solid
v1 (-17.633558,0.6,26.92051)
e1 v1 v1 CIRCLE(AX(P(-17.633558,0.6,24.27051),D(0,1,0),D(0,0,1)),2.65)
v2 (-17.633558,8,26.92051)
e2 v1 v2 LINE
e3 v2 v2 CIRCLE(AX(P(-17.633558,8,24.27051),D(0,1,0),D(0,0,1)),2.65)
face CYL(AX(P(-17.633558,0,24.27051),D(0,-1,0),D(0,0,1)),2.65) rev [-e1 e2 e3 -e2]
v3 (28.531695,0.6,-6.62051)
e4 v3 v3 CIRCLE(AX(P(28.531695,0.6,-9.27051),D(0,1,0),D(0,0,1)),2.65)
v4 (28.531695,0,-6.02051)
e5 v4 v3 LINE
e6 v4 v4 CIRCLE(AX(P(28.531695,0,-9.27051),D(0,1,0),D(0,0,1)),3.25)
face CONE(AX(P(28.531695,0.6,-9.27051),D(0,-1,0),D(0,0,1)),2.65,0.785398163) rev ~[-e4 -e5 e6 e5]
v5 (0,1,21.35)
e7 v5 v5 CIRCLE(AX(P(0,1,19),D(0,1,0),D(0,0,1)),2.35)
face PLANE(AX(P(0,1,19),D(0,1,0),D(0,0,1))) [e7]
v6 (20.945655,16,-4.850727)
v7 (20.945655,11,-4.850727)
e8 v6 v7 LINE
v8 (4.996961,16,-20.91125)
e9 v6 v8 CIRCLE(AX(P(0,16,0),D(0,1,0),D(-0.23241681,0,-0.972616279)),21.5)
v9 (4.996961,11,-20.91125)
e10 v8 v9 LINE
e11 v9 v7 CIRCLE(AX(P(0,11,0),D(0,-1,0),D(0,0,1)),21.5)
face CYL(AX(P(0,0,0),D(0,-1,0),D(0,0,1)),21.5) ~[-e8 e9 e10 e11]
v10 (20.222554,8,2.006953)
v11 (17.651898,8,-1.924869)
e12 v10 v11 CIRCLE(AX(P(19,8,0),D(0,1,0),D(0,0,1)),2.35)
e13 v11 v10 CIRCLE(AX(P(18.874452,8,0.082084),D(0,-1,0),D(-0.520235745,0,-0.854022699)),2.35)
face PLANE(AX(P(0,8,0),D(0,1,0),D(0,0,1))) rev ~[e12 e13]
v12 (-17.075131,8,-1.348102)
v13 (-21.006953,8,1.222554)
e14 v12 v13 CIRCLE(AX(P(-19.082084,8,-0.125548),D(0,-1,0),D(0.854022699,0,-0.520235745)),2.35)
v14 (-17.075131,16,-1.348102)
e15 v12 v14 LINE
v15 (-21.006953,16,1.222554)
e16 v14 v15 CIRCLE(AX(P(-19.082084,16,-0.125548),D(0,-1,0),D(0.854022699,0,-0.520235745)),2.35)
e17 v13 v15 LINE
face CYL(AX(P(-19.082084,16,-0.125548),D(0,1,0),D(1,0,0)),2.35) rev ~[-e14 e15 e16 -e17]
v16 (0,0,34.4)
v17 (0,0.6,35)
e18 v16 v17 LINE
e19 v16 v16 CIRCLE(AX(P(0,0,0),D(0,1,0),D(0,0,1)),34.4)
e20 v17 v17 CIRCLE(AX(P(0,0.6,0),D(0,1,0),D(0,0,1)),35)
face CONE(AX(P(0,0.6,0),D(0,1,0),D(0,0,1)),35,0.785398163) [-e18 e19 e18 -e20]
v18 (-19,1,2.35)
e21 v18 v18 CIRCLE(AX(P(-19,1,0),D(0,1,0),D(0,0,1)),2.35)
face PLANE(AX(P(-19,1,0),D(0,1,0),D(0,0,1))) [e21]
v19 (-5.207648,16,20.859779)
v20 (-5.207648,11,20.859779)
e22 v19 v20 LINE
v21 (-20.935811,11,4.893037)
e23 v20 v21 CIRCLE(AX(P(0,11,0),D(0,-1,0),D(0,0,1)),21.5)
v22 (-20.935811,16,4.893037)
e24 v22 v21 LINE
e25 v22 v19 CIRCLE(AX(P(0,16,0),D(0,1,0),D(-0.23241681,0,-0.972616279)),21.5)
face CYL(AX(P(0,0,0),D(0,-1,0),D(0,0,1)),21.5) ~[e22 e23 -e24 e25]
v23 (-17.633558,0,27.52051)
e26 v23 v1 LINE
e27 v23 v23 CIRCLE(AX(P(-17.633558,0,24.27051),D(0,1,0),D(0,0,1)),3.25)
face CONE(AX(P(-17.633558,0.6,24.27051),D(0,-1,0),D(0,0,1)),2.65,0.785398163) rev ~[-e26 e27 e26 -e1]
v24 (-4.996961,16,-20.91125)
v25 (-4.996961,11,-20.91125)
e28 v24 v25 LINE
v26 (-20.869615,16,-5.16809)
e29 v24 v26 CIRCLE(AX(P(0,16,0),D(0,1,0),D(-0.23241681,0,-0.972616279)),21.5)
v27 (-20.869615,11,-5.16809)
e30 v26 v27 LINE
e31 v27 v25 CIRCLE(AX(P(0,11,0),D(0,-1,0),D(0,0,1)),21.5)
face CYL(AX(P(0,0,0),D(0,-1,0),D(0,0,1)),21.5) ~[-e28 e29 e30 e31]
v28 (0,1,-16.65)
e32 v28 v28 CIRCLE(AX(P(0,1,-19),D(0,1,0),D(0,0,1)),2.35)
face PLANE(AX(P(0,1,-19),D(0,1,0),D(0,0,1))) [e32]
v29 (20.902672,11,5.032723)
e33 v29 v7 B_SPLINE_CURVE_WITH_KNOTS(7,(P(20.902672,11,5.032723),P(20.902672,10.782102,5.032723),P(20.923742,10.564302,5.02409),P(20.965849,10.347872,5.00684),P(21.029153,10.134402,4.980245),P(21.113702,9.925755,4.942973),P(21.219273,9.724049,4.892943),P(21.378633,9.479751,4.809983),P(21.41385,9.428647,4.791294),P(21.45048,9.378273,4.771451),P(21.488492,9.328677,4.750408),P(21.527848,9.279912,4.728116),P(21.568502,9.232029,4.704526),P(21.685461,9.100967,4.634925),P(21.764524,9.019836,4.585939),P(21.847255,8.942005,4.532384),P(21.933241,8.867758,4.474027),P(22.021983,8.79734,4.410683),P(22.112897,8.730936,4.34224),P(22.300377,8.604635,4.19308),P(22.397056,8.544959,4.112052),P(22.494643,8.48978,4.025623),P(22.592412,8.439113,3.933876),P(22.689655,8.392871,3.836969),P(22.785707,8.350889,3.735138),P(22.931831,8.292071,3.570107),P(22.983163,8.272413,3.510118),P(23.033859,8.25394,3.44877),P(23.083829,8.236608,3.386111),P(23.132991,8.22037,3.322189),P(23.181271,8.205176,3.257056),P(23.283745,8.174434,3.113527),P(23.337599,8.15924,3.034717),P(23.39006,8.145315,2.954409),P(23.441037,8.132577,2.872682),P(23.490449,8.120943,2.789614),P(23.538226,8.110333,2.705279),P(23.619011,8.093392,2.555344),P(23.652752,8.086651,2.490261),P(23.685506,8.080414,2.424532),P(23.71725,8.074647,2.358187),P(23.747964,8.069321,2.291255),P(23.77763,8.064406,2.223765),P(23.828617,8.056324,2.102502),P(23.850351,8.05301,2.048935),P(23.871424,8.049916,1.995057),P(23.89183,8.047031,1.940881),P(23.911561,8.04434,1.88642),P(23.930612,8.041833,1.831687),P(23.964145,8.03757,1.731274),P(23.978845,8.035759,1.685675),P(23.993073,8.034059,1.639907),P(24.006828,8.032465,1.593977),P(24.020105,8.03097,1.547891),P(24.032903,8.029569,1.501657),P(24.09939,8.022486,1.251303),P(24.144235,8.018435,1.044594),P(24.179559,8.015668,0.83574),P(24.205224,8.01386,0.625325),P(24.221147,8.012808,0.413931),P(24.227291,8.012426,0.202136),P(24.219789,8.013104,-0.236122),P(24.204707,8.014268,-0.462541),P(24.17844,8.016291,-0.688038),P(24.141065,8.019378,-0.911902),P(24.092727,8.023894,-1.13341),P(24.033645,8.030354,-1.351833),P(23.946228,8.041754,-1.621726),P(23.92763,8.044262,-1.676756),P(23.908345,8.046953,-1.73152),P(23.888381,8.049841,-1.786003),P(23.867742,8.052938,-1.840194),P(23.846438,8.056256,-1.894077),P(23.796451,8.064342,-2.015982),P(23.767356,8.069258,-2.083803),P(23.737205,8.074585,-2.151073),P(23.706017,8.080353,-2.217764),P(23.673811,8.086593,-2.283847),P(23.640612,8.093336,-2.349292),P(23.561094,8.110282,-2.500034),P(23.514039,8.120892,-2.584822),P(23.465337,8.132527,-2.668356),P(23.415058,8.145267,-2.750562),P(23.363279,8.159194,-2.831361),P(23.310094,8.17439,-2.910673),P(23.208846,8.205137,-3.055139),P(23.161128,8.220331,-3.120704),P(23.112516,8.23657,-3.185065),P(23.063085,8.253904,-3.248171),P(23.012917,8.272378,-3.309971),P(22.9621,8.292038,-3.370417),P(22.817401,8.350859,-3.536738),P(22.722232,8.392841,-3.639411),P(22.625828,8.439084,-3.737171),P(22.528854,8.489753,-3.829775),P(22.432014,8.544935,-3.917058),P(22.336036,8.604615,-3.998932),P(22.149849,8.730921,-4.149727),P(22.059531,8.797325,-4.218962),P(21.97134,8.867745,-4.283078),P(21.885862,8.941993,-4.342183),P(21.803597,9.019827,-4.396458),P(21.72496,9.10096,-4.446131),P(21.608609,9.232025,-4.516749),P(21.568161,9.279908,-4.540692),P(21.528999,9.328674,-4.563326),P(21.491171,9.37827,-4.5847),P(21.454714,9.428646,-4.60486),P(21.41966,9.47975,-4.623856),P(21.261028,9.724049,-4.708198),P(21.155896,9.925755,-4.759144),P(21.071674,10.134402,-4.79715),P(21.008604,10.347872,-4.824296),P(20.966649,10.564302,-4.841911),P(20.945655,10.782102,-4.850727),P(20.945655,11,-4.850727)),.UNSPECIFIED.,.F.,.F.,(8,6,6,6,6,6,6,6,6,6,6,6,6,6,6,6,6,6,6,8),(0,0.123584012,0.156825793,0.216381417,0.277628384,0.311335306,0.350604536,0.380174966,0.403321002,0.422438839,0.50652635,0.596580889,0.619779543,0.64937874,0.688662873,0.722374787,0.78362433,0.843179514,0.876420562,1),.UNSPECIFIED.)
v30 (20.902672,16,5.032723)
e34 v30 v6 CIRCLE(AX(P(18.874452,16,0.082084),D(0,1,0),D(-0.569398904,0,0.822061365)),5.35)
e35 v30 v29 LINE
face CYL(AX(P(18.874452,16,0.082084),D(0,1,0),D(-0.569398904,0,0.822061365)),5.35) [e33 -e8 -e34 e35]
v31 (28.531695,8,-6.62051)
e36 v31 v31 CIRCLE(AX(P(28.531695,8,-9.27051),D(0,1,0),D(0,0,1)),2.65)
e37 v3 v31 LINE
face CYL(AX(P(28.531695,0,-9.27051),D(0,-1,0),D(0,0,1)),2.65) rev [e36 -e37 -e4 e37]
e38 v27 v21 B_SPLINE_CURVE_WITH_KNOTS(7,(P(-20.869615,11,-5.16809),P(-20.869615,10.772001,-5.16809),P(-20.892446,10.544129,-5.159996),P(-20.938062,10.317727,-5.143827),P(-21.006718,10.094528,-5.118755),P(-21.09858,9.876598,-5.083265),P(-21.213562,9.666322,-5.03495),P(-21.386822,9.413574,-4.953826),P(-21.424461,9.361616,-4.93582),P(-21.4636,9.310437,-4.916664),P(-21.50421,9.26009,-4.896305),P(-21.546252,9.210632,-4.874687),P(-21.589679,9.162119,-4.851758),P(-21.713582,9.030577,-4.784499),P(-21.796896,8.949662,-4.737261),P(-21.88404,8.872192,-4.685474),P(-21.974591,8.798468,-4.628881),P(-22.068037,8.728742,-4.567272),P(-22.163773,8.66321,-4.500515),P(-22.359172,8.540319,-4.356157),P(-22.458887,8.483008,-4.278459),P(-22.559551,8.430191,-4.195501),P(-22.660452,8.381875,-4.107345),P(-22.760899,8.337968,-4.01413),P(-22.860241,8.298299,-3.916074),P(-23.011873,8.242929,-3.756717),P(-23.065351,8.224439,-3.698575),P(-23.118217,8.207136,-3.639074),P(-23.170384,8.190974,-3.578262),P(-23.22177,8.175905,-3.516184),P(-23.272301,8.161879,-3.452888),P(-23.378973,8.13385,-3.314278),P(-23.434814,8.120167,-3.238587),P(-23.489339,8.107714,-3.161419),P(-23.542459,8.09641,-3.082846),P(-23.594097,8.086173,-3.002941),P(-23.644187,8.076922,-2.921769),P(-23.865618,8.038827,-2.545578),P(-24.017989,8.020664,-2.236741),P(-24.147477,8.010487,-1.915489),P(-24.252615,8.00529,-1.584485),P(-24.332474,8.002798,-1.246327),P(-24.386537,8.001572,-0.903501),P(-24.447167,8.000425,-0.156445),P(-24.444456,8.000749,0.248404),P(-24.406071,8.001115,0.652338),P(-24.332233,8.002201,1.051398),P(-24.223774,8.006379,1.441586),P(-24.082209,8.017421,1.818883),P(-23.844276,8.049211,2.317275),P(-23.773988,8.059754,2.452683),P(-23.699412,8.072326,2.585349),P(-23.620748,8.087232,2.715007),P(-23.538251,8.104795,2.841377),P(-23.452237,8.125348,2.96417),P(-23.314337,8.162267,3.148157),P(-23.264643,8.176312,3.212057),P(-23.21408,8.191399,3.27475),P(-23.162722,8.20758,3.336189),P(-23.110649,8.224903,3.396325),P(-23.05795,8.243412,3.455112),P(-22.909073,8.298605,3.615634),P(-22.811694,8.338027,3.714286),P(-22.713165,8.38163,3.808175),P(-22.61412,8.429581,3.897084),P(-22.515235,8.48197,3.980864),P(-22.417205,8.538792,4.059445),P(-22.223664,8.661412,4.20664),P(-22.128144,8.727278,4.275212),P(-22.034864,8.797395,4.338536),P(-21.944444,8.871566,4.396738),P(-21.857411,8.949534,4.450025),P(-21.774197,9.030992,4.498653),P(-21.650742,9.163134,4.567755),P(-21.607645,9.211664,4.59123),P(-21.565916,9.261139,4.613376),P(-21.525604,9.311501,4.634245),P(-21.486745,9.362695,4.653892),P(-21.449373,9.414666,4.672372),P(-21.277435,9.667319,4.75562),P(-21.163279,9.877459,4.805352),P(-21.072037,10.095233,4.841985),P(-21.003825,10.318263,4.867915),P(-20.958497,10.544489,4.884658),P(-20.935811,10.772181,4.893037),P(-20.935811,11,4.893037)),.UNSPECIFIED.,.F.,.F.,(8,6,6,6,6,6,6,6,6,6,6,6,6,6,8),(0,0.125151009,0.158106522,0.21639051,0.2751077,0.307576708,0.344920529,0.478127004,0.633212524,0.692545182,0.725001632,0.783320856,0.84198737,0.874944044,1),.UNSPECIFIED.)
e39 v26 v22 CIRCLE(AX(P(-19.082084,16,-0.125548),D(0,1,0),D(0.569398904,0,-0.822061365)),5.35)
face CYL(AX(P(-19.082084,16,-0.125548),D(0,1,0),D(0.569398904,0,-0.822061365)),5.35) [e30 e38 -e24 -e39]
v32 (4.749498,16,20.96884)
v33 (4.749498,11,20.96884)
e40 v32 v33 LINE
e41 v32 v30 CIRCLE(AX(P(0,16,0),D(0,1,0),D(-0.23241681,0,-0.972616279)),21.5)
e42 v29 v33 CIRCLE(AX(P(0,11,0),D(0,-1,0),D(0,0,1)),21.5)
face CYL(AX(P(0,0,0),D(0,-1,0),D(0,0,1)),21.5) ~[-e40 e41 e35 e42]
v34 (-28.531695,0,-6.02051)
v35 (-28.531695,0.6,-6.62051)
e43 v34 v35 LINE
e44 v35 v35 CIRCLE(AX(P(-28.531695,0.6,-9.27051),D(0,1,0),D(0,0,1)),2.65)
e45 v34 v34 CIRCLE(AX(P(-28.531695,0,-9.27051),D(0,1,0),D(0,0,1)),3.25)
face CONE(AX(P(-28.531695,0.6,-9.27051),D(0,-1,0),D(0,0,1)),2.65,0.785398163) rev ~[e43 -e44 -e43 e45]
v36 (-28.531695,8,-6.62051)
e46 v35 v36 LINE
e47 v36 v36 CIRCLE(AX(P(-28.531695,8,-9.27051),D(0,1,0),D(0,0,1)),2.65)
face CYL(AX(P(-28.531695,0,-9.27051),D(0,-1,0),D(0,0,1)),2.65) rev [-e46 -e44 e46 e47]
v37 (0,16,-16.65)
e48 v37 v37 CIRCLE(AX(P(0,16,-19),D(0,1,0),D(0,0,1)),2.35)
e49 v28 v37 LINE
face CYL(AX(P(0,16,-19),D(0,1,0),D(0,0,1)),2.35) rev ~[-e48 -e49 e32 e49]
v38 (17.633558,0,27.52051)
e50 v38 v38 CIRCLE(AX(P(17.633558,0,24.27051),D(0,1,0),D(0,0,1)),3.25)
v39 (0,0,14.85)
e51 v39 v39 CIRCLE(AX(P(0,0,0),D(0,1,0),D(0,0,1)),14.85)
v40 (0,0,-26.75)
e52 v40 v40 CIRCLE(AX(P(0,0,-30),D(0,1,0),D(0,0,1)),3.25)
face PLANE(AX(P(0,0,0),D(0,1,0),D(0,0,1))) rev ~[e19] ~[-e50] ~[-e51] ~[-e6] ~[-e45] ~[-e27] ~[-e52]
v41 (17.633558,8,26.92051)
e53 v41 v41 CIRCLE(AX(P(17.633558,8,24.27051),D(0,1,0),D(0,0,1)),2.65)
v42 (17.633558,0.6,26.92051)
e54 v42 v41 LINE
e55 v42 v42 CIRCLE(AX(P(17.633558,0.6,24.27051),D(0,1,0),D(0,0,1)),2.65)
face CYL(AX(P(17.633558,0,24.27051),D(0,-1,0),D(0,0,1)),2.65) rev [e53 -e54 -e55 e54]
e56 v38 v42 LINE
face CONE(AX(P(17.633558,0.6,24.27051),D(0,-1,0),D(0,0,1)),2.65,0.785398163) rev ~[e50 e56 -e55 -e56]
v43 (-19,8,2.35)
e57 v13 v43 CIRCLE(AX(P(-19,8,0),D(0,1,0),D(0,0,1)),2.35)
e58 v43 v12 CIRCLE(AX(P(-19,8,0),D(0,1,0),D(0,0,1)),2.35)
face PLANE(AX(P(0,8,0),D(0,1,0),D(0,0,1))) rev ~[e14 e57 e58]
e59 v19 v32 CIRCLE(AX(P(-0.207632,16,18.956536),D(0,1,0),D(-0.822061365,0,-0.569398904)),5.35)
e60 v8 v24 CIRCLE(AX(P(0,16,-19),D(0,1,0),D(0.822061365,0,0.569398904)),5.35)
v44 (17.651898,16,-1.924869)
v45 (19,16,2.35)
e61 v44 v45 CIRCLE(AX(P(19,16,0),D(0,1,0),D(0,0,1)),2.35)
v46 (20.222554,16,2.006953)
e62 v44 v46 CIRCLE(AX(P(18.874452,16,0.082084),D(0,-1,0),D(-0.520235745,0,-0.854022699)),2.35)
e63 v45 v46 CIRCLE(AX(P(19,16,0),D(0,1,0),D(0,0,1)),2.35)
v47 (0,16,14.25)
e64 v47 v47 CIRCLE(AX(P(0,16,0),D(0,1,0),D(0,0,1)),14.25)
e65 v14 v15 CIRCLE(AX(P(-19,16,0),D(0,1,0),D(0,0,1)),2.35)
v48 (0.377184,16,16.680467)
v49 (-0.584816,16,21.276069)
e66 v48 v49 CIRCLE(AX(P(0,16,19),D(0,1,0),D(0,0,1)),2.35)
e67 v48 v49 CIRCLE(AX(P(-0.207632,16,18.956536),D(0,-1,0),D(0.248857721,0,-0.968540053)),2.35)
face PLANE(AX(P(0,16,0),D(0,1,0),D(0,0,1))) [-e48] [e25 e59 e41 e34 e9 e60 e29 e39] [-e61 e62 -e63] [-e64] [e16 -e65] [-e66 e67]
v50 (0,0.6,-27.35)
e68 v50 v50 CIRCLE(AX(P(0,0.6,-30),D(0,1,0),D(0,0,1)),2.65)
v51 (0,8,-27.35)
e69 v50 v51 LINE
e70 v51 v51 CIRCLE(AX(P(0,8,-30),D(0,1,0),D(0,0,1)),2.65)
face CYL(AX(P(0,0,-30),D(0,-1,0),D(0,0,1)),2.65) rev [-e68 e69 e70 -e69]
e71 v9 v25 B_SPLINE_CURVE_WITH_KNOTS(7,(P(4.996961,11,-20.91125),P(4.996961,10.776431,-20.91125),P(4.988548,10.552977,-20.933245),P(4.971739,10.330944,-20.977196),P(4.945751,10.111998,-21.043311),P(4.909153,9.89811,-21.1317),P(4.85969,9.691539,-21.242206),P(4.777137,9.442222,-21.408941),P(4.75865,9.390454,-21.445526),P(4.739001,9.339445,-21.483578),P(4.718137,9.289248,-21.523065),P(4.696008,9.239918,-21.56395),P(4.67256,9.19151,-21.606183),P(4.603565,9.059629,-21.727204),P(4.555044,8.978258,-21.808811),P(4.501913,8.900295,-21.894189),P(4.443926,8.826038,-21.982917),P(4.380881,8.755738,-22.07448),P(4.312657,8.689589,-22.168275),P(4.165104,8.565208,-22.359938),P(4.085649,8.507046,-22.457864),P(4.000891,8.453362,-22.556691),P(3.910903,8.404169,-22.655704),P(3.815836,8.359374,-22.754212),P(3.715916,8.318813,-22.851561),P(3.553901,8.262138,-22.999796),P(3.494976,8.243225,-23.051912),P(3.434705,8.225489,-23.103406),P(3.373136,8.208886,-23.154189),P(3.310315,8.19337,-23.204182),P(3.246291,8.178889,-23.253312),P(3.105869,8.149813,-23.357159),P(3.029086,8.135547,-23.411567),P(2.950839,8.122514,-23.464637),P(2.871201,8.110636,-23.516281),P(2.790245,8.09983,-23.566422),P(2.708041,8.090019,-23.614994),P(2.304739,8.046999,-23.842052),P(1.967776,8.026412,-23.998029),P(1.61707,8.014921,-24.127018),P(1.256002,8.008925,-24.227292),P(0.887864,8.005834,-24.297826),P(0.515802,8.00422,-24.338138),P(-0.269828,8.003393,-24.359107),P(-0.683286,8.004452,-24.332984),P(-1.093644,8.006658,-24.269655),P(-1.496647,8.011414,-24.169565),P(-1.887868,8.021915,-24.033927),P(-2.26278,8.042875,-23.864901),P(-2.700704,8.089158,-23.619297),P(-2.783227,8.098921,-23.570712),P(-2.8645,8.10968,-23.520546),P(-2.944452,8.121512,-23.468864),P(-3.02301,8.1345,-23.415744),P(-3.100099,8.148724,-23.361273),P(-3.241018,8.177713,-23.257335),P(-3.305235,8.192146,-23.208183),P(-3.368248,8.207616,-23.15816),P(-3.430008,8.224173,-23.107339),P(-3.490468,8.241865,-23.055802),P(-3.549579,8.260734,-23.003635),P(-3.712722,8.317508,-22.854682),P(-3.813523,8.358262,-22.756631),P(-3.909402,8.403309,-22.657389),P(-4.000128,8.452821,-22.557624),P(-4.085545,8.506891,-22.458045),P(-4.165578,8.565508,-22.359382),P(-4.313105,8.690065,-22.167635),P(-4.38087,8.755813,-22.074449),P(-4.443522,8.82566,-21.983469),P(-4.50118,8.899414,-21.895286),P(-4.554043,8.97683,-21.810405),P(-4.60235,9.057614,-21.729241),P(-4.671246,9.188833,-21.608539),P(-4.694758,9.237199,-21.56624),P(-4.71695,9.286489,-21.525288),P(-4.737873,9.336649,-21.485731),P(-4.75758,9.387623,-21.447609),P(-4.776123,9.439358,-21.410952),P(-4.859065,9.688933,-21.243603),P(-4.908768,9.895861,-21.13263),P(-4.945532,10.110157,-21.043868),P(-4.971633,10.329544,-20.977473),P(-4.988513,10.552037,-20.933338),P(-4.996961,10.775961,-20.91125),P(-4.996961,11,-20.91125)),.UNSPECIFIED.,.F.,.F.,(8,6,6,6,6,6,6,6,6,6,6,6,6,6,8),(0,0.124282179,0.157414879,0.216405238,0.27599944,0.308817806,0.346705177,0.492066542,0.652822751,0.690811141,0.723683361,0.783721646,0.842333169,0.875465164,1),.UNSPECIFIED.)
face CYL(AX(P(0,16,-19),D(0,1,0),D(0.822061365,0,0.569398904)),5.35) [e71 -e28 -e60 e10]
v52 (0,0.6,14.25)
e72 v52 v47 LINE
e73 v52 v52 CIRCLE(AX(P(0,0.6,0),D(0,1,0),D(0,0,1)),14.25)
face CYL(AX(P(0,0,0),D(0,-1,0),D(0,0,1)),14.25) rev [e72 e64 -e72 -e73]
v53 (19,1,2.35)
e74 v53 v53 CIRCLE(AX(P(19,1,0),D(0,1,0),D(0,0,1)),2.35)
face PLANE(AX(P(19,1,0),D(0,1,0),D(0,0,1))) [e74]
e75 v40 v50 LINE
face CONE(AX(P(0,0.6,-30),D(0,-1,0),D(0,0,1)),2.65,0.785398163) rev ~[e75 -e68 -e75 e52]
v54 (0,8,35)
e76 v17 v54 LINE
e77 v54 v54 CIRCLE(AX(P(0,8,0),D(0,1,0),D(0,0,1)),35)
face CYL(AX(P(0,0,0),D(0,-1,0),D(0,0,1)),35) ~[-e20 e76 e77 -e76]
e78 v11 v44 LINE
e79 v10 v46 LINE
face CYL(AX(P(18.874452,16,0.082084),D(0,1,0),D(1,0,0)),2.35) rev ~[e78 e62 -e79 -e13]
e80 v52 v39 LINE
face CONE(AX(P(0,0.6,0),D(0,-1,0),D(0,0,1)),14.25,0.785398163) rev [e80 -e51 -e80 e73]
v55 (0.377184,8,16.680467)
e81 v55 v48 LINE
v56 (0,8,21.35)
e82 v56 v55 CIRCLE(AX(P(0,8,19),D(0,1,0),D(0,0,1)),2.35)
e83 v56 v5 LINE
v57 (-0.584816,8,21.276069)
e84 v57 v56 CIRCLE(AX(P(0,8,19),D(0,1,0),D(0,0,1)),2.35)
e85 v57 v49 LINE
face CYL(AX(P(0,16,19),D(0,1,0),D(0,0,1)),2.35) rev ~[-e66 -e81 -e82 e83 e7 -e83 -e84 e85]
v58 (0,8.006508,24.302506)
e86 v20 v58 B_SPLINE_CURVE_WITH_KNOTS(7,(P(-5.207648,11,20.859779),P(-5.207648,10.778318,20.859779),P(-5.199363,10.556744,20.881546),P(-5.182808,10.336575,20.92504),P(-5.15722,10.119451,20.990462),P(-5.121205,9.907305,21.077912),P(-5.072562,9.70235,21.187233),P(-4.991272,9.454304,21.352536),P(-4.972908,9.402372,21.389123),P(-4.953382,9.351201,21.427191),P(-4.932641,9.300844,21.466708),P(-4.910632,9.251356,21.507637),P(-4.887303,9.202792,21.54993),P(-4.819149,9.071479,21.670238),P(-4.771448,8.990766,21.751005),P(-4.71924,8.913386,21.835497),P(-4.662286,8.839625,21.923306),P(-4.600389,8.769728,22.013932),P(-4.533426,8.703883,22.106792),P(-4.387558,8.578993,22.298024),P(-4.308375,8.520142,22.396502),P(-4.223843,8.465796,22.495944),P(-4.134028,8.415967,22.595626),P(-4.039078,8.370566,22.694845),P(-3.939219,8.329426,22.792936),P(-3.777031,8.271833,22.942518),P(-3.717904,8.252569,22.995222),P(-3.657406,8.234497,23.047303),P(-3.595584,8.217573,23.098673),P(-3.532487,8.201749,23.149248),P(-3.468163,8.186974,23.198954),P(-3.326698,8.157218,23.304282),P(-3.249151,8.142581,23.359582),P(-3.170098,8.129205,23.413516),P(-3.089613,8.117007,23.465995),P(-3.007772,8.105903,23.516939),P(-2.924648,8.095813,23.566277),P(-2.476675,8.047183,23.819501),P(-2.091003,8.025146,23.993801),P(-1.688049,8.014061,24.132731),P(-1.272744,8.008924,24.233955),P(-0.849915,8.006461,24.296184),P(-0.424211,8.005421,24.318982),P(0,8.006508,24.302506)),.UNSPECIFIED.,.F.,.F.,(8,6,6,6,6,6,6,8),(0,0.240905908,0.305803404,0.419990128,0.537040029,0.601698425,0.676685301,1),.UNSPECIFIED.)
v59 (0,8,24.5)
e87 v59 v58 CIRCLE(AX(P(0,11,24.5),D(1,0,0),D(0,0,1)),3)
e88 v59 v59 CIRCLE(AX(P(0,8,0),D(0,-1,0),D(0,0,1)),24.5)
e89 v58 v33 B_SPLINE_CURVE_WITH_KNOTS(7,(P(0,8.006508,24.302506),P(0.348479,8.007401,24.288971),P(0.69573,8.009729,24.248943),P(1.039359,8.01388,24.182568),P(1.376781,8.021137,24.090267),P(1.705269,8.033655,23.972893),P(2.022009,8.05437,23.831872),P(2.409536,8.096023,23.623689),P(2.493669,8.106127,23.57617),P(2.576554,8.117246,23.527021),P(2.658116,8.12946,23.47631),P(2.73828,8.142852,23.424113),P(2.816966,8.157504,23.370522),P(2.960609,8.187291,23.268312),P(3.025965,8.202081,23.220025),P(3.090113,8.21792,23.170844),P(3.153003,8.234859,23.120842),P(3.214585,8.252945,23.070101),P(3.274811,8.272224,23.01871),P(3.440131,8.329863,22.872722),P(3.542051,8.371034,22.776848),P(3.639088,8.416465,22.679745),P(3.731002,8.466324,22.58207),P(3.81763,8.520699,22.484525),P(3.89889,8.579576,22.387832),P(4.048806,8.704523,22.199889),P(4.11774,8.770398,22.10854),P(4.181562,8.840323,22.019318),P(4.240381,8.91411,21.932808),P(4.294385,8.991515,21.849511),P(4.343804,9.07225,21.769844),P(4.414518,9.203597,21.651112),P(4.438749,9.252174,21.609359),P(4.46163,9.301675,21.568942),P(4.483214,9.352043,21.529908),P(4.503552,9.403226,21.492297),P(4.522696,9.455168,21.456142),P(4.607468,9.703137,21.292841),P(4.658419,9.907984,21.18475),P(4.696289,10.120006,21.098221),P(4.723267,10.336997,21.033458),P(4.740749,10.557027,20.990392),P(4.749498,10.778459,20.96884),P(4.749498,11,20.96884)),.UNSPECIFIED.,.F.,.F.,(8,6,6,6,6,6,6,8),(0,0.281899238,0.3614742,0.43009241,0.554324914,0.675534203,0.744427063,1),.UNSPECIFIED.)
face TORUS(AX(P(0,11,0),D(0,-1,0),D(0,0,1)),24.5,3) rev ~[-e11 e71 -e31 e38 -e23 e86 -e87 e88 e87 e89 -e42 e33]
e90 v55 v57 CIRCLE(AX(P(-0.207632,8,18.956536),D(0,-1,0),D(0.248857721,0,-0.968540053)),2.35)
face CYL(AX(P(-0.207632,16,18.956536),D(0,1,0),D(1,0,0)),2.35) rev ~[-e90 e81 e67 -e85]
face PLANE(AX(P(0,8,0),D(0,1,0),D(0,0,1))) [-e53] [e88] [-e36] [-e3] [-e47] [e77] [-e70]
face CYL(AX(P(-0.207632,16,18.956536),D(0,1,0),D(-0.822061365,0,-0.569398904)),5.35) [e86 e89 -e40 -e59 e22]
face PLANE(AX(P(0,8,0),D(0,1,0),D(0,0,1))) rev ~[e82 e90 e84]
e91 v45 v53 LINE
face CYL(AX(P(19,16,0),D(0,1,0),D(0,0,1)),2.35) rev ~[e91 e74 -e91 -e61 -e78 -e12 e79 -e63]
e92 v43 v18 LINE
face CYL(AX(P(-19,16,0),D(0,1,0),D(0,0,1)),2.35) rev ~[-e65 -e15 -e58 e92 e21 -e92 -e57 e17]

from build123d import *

# Parameters (mm, degrees)
SKETCH2_R           = 35
SKETCH2_R_2         = 21
SKETCH2_R_3         = 2.65
BOSS_EXTRUDE6_DEPTH = 8
SKETCH3_R           = 21.5
SKETCH3_R_2         = 14.25
BOSS_EXTRUDE7_DEPTH = 16
FILLET1_R           = 3
SKETCH4_R           = 2.35
CUT_EXTRUDE1_DEPTH  = 15
BOSS_EXTRUDE9_REACH = 54.019
SKETCH7_R           = 2.35
CHAMFER1_SIZE       = 0.6


with BuildPart() as part:
    # Sketch2 → Boss-Extrude6 (new body)
    with BuildSketch(Plane(origin=(0, 0, 0), x_dir=(1, 0, 0), z_dir=(0, 1, 0))):
        with Locations(Location((0, 0, 0), (0, 0, 270))):
            Circle(SKETCH2_R)
        with Locations(Location((0, 0, 0), (0, 0, 270))):
            Circle(SKETCH2_R_2, mode=Mode.SUBTRACT)
        with Locations(Location((0, 30, 0), (0, 0, 270))):
            Circle(SKETCH2_R_3, mode=Mode.SUBTRACT)
        with Locations(Location((28.531695489, 9.270509831, 0), (0, 0, 270))):
            Circle(SKETCH2_R_3, mode=Mode.SUBTRACT)
        with Locations(Location((17.633557569, -24.270509831, 0), (0, 0, 270))):
            Circle(SKETCH2_R_3, mode=Mode.SUBTRACT)
        with Locations(Location((-17.633557569, -24.270509831, 0), (0, 0, 270))):
            Circle(SKETCH2_R_3, mode=Mode.SUBTRACT)
        with Locations(Location((-28.531695489, 9.270509831, 0), (0, 0, 270))):
            Circle(SKETCH2_R_3, mode=Mode.SUBTRACT)
    extrude(amount=BOSS_EXTRUDE6_DEPTH)

    # Sketch3 → Boss-Extrude7 (add)
    with BuildSketch(Plane(origin=(0, 0, 0), x_dir=(1, 0, 0), z_dir=(0, 1, 0))):
        with Locations(Location((0, 0, 0), (0, 0, 270))):
            Circle(SKETCH3_R)
        with Locations(Location((0, 0, 0), (0, 0, 270))):
            Circle(SKETCH3_R_2, mode=Mode.SUBTRACT)
    extrude(amount=BOSS_EXTRUDE7_DEPTH)

    # Fillet1
    fillet1_edges = [part.edges().sort_by_distance(p)[0] for p in [
        (0, 8, -21.5),
    ]]
    fillet(fillet1_edges, radius=FILLET1_R)

    # Sketch4 → Cut-Extrude1 (cut)
    with BuildSketch(Plane(origin=(0, 16, 0), x_dir=(1, 0, 0), z_dir=(0, 1, 0))):
        with Locations(Location((0, 19, 0), (0, 0, 270))):
            Circle(SKETCH4_R)
        with Locations(Location((19, 0, 0), (0, 0, 270))):
            Circle(SKETCH4_R)
        with Locations(Location((0, -19, 0), (0, 0, 270))):
            Circle(SKETCH4_R)
        with Locations(Location((-19, 0, 0), (0, 0, 270))):
            Circle(SKETCH4_R)
    extrude(amount=-CUT_EXTRUDE1_DEPTH, mode=Mode.SUBTRACT)

    # Boss-Extrude9: up to this face of the body (flat: up to its plane)
    boss_extrude9_end = Plane(part.part.faces().sort_by_distance((0, 8, -25.489949494))[0])
    # Sketch7 → Boss-Extrude9 (add, up to the picked face)
    with BuildSketch(Plane(origin=(0, 16, 0), x_dir=(1, 0, 0), z_dir=(0, 1, 0)), mode=Mode.PRIVATE) as boss_extrude9_sk1:
        with BuildLine():
            Line((-4.477866444, 16.072336749), (4.398028303, 15.953715863))
            ThreePointArc((4.398028303, 15.953715863), (0.071493082, 24.349522291), (-4.477866444, 16.072336749))
        make_face()
        with Locations(Location((0, 19, 0), (0, 0, 270))):
            Circle(SKETCH7_R, mode=Mode.SUBTRACT)
    boss_extrude9_tool1 = split(extrude(boss_extrude9_sk1.sketch, amount=-BOSS_EXTRUDE9_REACH, mode=Mode.PRIVATE), bisect_by=boss_extrude9_end, keep=Keep.BOTH, mode=Mode.PRIVATE)
    # Sketch7 → Boss-Extrude9 (add, up to the picked face)
    with BuildSketch(Plane(origin=(0, 16, 0), x_dir=(1, 0, 0), z_dir=(0, 1, 0)), mode=Mode.PRIVATE) as boss_extrude9_sk2:
        with BuildLine():
            Line((15.946789092, 4.395782427), (15.828168206, -4.48011232))
            ThreePointArc((15.828168206, -4.48011232), (24.223974633, -0.153577099), (15.946789092, 4.395782427))
        make_face()
        with Locations((18.874452343, -0.082084016)):
            Circle(SKETCH7_R, mode=Mode.SUBTRACT)
    boss_extrude9_tool2 = split(extrude(boss_extrude9_sk2.sketch, amount=-BOSS_EXTRUDE9_REACH, mode=Mode.PRIVATE), bisect_by=boss_extrude9_end, keep=Keep.BOTH, mode=Mode.PRIVATE)
    # Sketch7 → Boss-Extrude9 (add, up to the picked face)
    with BuildSketch(Plane(origin=(0, 16, 0), x_dir=(1, 0, 0), z_dir=(0, 1, 0)), mode=Mode.PRIVATE) as boss_extrude9_sk3:
        with BuildLine():
            Line((4.27023477, -16.028873108), (-4.605659977, -15.910252222))
            ThreePointArc((-4.605659977, -15.910252222), (-0.279124756, -24.30605865), (4.27023477, -16.028873108))
        make_face()
        with Locations((-0.207631674, -18.956536359)):
            Circle(SKETCH7_R, mode=Mode.SUBTRACT)
    boss_extrude9_tool3 = split(extrude(boss_extrude9_sk3.sketch, amount=-BOSS_EXTRUDE9_REACH, mode=Mode.PRIVATE), bisect_by=boss_extrude9_end, keep=Keep.BOTH, mode=Mode.PRIVATE)
    # Sketch7 → Boss-Extrude9 (add, up to the picked face)
    with BuildSketch(Plane(origin=(0, 16, 0), x_dir=(1, 0, 0), z_dir=(0, 1, 0)), mode=Mode.PRIVATE) as boss_extrude9_sk4:
        with BuildLine():
            Line((-16.154420765, -4.352318786), (-16.035799879, 4.523575961))
            ThreePointArc((-16.035799879, 4.523575961), (-24.431606307, 0.19704074), (-16.154420765, -4.352318786))
        make_face()
        with Locations((-19.082084016, 0.125547657)):
            Circle(SKETCH7_R, mode=Mode.SUBTRACT)
    boss_extrude9_tool4 = split(extrude(boss_extrude9_sk4.sketch, amount=-BOSS_EXTRUDE9_REACH, mode=Mode.PRIVATE), bisect_by=boss_extrude9_end, keep=Keep.BOTH, mode=Mode.PRIVATE)
    add(boss_extrude9_tool1.solids().sort_by(Axis((0.069676, 16, -24.213524), (0, -1, 0)))[0])
    add(boss_extrude9_tool2.solids().sort_by(Axis((16.023477, 16, 0.043982), (0, -1, 0)))[0])
    add(boss_extrude9_tool3.solids().sort_by(Axis((-0.277307, 16, 24.170061), (0, -1, 0)))[0])
    add(boss_extrude9_tool4.solids().sort_by(Axis((-16.231108, 16, -0.087446), (0, -1, 0)))[0])

    # Chamfer1
    chamfer1_edges = [part.edges().sort_by_distance(p)[0] for p in [
        (28.531695489, 0, -11.920509831),
        (17.633557569, 0, 21.620509831),
        (0, 0, -35),
        (-17.633557569, 0, 21.620509831),
        (-28.531695489, 0, -11.920509831),
        (0, 0, -14.25),
        (0, 0, -32.65),
    ]]
    chamfer(chamfer1_edges, length=CHAMFER1_SIZE)


solid = part.part
